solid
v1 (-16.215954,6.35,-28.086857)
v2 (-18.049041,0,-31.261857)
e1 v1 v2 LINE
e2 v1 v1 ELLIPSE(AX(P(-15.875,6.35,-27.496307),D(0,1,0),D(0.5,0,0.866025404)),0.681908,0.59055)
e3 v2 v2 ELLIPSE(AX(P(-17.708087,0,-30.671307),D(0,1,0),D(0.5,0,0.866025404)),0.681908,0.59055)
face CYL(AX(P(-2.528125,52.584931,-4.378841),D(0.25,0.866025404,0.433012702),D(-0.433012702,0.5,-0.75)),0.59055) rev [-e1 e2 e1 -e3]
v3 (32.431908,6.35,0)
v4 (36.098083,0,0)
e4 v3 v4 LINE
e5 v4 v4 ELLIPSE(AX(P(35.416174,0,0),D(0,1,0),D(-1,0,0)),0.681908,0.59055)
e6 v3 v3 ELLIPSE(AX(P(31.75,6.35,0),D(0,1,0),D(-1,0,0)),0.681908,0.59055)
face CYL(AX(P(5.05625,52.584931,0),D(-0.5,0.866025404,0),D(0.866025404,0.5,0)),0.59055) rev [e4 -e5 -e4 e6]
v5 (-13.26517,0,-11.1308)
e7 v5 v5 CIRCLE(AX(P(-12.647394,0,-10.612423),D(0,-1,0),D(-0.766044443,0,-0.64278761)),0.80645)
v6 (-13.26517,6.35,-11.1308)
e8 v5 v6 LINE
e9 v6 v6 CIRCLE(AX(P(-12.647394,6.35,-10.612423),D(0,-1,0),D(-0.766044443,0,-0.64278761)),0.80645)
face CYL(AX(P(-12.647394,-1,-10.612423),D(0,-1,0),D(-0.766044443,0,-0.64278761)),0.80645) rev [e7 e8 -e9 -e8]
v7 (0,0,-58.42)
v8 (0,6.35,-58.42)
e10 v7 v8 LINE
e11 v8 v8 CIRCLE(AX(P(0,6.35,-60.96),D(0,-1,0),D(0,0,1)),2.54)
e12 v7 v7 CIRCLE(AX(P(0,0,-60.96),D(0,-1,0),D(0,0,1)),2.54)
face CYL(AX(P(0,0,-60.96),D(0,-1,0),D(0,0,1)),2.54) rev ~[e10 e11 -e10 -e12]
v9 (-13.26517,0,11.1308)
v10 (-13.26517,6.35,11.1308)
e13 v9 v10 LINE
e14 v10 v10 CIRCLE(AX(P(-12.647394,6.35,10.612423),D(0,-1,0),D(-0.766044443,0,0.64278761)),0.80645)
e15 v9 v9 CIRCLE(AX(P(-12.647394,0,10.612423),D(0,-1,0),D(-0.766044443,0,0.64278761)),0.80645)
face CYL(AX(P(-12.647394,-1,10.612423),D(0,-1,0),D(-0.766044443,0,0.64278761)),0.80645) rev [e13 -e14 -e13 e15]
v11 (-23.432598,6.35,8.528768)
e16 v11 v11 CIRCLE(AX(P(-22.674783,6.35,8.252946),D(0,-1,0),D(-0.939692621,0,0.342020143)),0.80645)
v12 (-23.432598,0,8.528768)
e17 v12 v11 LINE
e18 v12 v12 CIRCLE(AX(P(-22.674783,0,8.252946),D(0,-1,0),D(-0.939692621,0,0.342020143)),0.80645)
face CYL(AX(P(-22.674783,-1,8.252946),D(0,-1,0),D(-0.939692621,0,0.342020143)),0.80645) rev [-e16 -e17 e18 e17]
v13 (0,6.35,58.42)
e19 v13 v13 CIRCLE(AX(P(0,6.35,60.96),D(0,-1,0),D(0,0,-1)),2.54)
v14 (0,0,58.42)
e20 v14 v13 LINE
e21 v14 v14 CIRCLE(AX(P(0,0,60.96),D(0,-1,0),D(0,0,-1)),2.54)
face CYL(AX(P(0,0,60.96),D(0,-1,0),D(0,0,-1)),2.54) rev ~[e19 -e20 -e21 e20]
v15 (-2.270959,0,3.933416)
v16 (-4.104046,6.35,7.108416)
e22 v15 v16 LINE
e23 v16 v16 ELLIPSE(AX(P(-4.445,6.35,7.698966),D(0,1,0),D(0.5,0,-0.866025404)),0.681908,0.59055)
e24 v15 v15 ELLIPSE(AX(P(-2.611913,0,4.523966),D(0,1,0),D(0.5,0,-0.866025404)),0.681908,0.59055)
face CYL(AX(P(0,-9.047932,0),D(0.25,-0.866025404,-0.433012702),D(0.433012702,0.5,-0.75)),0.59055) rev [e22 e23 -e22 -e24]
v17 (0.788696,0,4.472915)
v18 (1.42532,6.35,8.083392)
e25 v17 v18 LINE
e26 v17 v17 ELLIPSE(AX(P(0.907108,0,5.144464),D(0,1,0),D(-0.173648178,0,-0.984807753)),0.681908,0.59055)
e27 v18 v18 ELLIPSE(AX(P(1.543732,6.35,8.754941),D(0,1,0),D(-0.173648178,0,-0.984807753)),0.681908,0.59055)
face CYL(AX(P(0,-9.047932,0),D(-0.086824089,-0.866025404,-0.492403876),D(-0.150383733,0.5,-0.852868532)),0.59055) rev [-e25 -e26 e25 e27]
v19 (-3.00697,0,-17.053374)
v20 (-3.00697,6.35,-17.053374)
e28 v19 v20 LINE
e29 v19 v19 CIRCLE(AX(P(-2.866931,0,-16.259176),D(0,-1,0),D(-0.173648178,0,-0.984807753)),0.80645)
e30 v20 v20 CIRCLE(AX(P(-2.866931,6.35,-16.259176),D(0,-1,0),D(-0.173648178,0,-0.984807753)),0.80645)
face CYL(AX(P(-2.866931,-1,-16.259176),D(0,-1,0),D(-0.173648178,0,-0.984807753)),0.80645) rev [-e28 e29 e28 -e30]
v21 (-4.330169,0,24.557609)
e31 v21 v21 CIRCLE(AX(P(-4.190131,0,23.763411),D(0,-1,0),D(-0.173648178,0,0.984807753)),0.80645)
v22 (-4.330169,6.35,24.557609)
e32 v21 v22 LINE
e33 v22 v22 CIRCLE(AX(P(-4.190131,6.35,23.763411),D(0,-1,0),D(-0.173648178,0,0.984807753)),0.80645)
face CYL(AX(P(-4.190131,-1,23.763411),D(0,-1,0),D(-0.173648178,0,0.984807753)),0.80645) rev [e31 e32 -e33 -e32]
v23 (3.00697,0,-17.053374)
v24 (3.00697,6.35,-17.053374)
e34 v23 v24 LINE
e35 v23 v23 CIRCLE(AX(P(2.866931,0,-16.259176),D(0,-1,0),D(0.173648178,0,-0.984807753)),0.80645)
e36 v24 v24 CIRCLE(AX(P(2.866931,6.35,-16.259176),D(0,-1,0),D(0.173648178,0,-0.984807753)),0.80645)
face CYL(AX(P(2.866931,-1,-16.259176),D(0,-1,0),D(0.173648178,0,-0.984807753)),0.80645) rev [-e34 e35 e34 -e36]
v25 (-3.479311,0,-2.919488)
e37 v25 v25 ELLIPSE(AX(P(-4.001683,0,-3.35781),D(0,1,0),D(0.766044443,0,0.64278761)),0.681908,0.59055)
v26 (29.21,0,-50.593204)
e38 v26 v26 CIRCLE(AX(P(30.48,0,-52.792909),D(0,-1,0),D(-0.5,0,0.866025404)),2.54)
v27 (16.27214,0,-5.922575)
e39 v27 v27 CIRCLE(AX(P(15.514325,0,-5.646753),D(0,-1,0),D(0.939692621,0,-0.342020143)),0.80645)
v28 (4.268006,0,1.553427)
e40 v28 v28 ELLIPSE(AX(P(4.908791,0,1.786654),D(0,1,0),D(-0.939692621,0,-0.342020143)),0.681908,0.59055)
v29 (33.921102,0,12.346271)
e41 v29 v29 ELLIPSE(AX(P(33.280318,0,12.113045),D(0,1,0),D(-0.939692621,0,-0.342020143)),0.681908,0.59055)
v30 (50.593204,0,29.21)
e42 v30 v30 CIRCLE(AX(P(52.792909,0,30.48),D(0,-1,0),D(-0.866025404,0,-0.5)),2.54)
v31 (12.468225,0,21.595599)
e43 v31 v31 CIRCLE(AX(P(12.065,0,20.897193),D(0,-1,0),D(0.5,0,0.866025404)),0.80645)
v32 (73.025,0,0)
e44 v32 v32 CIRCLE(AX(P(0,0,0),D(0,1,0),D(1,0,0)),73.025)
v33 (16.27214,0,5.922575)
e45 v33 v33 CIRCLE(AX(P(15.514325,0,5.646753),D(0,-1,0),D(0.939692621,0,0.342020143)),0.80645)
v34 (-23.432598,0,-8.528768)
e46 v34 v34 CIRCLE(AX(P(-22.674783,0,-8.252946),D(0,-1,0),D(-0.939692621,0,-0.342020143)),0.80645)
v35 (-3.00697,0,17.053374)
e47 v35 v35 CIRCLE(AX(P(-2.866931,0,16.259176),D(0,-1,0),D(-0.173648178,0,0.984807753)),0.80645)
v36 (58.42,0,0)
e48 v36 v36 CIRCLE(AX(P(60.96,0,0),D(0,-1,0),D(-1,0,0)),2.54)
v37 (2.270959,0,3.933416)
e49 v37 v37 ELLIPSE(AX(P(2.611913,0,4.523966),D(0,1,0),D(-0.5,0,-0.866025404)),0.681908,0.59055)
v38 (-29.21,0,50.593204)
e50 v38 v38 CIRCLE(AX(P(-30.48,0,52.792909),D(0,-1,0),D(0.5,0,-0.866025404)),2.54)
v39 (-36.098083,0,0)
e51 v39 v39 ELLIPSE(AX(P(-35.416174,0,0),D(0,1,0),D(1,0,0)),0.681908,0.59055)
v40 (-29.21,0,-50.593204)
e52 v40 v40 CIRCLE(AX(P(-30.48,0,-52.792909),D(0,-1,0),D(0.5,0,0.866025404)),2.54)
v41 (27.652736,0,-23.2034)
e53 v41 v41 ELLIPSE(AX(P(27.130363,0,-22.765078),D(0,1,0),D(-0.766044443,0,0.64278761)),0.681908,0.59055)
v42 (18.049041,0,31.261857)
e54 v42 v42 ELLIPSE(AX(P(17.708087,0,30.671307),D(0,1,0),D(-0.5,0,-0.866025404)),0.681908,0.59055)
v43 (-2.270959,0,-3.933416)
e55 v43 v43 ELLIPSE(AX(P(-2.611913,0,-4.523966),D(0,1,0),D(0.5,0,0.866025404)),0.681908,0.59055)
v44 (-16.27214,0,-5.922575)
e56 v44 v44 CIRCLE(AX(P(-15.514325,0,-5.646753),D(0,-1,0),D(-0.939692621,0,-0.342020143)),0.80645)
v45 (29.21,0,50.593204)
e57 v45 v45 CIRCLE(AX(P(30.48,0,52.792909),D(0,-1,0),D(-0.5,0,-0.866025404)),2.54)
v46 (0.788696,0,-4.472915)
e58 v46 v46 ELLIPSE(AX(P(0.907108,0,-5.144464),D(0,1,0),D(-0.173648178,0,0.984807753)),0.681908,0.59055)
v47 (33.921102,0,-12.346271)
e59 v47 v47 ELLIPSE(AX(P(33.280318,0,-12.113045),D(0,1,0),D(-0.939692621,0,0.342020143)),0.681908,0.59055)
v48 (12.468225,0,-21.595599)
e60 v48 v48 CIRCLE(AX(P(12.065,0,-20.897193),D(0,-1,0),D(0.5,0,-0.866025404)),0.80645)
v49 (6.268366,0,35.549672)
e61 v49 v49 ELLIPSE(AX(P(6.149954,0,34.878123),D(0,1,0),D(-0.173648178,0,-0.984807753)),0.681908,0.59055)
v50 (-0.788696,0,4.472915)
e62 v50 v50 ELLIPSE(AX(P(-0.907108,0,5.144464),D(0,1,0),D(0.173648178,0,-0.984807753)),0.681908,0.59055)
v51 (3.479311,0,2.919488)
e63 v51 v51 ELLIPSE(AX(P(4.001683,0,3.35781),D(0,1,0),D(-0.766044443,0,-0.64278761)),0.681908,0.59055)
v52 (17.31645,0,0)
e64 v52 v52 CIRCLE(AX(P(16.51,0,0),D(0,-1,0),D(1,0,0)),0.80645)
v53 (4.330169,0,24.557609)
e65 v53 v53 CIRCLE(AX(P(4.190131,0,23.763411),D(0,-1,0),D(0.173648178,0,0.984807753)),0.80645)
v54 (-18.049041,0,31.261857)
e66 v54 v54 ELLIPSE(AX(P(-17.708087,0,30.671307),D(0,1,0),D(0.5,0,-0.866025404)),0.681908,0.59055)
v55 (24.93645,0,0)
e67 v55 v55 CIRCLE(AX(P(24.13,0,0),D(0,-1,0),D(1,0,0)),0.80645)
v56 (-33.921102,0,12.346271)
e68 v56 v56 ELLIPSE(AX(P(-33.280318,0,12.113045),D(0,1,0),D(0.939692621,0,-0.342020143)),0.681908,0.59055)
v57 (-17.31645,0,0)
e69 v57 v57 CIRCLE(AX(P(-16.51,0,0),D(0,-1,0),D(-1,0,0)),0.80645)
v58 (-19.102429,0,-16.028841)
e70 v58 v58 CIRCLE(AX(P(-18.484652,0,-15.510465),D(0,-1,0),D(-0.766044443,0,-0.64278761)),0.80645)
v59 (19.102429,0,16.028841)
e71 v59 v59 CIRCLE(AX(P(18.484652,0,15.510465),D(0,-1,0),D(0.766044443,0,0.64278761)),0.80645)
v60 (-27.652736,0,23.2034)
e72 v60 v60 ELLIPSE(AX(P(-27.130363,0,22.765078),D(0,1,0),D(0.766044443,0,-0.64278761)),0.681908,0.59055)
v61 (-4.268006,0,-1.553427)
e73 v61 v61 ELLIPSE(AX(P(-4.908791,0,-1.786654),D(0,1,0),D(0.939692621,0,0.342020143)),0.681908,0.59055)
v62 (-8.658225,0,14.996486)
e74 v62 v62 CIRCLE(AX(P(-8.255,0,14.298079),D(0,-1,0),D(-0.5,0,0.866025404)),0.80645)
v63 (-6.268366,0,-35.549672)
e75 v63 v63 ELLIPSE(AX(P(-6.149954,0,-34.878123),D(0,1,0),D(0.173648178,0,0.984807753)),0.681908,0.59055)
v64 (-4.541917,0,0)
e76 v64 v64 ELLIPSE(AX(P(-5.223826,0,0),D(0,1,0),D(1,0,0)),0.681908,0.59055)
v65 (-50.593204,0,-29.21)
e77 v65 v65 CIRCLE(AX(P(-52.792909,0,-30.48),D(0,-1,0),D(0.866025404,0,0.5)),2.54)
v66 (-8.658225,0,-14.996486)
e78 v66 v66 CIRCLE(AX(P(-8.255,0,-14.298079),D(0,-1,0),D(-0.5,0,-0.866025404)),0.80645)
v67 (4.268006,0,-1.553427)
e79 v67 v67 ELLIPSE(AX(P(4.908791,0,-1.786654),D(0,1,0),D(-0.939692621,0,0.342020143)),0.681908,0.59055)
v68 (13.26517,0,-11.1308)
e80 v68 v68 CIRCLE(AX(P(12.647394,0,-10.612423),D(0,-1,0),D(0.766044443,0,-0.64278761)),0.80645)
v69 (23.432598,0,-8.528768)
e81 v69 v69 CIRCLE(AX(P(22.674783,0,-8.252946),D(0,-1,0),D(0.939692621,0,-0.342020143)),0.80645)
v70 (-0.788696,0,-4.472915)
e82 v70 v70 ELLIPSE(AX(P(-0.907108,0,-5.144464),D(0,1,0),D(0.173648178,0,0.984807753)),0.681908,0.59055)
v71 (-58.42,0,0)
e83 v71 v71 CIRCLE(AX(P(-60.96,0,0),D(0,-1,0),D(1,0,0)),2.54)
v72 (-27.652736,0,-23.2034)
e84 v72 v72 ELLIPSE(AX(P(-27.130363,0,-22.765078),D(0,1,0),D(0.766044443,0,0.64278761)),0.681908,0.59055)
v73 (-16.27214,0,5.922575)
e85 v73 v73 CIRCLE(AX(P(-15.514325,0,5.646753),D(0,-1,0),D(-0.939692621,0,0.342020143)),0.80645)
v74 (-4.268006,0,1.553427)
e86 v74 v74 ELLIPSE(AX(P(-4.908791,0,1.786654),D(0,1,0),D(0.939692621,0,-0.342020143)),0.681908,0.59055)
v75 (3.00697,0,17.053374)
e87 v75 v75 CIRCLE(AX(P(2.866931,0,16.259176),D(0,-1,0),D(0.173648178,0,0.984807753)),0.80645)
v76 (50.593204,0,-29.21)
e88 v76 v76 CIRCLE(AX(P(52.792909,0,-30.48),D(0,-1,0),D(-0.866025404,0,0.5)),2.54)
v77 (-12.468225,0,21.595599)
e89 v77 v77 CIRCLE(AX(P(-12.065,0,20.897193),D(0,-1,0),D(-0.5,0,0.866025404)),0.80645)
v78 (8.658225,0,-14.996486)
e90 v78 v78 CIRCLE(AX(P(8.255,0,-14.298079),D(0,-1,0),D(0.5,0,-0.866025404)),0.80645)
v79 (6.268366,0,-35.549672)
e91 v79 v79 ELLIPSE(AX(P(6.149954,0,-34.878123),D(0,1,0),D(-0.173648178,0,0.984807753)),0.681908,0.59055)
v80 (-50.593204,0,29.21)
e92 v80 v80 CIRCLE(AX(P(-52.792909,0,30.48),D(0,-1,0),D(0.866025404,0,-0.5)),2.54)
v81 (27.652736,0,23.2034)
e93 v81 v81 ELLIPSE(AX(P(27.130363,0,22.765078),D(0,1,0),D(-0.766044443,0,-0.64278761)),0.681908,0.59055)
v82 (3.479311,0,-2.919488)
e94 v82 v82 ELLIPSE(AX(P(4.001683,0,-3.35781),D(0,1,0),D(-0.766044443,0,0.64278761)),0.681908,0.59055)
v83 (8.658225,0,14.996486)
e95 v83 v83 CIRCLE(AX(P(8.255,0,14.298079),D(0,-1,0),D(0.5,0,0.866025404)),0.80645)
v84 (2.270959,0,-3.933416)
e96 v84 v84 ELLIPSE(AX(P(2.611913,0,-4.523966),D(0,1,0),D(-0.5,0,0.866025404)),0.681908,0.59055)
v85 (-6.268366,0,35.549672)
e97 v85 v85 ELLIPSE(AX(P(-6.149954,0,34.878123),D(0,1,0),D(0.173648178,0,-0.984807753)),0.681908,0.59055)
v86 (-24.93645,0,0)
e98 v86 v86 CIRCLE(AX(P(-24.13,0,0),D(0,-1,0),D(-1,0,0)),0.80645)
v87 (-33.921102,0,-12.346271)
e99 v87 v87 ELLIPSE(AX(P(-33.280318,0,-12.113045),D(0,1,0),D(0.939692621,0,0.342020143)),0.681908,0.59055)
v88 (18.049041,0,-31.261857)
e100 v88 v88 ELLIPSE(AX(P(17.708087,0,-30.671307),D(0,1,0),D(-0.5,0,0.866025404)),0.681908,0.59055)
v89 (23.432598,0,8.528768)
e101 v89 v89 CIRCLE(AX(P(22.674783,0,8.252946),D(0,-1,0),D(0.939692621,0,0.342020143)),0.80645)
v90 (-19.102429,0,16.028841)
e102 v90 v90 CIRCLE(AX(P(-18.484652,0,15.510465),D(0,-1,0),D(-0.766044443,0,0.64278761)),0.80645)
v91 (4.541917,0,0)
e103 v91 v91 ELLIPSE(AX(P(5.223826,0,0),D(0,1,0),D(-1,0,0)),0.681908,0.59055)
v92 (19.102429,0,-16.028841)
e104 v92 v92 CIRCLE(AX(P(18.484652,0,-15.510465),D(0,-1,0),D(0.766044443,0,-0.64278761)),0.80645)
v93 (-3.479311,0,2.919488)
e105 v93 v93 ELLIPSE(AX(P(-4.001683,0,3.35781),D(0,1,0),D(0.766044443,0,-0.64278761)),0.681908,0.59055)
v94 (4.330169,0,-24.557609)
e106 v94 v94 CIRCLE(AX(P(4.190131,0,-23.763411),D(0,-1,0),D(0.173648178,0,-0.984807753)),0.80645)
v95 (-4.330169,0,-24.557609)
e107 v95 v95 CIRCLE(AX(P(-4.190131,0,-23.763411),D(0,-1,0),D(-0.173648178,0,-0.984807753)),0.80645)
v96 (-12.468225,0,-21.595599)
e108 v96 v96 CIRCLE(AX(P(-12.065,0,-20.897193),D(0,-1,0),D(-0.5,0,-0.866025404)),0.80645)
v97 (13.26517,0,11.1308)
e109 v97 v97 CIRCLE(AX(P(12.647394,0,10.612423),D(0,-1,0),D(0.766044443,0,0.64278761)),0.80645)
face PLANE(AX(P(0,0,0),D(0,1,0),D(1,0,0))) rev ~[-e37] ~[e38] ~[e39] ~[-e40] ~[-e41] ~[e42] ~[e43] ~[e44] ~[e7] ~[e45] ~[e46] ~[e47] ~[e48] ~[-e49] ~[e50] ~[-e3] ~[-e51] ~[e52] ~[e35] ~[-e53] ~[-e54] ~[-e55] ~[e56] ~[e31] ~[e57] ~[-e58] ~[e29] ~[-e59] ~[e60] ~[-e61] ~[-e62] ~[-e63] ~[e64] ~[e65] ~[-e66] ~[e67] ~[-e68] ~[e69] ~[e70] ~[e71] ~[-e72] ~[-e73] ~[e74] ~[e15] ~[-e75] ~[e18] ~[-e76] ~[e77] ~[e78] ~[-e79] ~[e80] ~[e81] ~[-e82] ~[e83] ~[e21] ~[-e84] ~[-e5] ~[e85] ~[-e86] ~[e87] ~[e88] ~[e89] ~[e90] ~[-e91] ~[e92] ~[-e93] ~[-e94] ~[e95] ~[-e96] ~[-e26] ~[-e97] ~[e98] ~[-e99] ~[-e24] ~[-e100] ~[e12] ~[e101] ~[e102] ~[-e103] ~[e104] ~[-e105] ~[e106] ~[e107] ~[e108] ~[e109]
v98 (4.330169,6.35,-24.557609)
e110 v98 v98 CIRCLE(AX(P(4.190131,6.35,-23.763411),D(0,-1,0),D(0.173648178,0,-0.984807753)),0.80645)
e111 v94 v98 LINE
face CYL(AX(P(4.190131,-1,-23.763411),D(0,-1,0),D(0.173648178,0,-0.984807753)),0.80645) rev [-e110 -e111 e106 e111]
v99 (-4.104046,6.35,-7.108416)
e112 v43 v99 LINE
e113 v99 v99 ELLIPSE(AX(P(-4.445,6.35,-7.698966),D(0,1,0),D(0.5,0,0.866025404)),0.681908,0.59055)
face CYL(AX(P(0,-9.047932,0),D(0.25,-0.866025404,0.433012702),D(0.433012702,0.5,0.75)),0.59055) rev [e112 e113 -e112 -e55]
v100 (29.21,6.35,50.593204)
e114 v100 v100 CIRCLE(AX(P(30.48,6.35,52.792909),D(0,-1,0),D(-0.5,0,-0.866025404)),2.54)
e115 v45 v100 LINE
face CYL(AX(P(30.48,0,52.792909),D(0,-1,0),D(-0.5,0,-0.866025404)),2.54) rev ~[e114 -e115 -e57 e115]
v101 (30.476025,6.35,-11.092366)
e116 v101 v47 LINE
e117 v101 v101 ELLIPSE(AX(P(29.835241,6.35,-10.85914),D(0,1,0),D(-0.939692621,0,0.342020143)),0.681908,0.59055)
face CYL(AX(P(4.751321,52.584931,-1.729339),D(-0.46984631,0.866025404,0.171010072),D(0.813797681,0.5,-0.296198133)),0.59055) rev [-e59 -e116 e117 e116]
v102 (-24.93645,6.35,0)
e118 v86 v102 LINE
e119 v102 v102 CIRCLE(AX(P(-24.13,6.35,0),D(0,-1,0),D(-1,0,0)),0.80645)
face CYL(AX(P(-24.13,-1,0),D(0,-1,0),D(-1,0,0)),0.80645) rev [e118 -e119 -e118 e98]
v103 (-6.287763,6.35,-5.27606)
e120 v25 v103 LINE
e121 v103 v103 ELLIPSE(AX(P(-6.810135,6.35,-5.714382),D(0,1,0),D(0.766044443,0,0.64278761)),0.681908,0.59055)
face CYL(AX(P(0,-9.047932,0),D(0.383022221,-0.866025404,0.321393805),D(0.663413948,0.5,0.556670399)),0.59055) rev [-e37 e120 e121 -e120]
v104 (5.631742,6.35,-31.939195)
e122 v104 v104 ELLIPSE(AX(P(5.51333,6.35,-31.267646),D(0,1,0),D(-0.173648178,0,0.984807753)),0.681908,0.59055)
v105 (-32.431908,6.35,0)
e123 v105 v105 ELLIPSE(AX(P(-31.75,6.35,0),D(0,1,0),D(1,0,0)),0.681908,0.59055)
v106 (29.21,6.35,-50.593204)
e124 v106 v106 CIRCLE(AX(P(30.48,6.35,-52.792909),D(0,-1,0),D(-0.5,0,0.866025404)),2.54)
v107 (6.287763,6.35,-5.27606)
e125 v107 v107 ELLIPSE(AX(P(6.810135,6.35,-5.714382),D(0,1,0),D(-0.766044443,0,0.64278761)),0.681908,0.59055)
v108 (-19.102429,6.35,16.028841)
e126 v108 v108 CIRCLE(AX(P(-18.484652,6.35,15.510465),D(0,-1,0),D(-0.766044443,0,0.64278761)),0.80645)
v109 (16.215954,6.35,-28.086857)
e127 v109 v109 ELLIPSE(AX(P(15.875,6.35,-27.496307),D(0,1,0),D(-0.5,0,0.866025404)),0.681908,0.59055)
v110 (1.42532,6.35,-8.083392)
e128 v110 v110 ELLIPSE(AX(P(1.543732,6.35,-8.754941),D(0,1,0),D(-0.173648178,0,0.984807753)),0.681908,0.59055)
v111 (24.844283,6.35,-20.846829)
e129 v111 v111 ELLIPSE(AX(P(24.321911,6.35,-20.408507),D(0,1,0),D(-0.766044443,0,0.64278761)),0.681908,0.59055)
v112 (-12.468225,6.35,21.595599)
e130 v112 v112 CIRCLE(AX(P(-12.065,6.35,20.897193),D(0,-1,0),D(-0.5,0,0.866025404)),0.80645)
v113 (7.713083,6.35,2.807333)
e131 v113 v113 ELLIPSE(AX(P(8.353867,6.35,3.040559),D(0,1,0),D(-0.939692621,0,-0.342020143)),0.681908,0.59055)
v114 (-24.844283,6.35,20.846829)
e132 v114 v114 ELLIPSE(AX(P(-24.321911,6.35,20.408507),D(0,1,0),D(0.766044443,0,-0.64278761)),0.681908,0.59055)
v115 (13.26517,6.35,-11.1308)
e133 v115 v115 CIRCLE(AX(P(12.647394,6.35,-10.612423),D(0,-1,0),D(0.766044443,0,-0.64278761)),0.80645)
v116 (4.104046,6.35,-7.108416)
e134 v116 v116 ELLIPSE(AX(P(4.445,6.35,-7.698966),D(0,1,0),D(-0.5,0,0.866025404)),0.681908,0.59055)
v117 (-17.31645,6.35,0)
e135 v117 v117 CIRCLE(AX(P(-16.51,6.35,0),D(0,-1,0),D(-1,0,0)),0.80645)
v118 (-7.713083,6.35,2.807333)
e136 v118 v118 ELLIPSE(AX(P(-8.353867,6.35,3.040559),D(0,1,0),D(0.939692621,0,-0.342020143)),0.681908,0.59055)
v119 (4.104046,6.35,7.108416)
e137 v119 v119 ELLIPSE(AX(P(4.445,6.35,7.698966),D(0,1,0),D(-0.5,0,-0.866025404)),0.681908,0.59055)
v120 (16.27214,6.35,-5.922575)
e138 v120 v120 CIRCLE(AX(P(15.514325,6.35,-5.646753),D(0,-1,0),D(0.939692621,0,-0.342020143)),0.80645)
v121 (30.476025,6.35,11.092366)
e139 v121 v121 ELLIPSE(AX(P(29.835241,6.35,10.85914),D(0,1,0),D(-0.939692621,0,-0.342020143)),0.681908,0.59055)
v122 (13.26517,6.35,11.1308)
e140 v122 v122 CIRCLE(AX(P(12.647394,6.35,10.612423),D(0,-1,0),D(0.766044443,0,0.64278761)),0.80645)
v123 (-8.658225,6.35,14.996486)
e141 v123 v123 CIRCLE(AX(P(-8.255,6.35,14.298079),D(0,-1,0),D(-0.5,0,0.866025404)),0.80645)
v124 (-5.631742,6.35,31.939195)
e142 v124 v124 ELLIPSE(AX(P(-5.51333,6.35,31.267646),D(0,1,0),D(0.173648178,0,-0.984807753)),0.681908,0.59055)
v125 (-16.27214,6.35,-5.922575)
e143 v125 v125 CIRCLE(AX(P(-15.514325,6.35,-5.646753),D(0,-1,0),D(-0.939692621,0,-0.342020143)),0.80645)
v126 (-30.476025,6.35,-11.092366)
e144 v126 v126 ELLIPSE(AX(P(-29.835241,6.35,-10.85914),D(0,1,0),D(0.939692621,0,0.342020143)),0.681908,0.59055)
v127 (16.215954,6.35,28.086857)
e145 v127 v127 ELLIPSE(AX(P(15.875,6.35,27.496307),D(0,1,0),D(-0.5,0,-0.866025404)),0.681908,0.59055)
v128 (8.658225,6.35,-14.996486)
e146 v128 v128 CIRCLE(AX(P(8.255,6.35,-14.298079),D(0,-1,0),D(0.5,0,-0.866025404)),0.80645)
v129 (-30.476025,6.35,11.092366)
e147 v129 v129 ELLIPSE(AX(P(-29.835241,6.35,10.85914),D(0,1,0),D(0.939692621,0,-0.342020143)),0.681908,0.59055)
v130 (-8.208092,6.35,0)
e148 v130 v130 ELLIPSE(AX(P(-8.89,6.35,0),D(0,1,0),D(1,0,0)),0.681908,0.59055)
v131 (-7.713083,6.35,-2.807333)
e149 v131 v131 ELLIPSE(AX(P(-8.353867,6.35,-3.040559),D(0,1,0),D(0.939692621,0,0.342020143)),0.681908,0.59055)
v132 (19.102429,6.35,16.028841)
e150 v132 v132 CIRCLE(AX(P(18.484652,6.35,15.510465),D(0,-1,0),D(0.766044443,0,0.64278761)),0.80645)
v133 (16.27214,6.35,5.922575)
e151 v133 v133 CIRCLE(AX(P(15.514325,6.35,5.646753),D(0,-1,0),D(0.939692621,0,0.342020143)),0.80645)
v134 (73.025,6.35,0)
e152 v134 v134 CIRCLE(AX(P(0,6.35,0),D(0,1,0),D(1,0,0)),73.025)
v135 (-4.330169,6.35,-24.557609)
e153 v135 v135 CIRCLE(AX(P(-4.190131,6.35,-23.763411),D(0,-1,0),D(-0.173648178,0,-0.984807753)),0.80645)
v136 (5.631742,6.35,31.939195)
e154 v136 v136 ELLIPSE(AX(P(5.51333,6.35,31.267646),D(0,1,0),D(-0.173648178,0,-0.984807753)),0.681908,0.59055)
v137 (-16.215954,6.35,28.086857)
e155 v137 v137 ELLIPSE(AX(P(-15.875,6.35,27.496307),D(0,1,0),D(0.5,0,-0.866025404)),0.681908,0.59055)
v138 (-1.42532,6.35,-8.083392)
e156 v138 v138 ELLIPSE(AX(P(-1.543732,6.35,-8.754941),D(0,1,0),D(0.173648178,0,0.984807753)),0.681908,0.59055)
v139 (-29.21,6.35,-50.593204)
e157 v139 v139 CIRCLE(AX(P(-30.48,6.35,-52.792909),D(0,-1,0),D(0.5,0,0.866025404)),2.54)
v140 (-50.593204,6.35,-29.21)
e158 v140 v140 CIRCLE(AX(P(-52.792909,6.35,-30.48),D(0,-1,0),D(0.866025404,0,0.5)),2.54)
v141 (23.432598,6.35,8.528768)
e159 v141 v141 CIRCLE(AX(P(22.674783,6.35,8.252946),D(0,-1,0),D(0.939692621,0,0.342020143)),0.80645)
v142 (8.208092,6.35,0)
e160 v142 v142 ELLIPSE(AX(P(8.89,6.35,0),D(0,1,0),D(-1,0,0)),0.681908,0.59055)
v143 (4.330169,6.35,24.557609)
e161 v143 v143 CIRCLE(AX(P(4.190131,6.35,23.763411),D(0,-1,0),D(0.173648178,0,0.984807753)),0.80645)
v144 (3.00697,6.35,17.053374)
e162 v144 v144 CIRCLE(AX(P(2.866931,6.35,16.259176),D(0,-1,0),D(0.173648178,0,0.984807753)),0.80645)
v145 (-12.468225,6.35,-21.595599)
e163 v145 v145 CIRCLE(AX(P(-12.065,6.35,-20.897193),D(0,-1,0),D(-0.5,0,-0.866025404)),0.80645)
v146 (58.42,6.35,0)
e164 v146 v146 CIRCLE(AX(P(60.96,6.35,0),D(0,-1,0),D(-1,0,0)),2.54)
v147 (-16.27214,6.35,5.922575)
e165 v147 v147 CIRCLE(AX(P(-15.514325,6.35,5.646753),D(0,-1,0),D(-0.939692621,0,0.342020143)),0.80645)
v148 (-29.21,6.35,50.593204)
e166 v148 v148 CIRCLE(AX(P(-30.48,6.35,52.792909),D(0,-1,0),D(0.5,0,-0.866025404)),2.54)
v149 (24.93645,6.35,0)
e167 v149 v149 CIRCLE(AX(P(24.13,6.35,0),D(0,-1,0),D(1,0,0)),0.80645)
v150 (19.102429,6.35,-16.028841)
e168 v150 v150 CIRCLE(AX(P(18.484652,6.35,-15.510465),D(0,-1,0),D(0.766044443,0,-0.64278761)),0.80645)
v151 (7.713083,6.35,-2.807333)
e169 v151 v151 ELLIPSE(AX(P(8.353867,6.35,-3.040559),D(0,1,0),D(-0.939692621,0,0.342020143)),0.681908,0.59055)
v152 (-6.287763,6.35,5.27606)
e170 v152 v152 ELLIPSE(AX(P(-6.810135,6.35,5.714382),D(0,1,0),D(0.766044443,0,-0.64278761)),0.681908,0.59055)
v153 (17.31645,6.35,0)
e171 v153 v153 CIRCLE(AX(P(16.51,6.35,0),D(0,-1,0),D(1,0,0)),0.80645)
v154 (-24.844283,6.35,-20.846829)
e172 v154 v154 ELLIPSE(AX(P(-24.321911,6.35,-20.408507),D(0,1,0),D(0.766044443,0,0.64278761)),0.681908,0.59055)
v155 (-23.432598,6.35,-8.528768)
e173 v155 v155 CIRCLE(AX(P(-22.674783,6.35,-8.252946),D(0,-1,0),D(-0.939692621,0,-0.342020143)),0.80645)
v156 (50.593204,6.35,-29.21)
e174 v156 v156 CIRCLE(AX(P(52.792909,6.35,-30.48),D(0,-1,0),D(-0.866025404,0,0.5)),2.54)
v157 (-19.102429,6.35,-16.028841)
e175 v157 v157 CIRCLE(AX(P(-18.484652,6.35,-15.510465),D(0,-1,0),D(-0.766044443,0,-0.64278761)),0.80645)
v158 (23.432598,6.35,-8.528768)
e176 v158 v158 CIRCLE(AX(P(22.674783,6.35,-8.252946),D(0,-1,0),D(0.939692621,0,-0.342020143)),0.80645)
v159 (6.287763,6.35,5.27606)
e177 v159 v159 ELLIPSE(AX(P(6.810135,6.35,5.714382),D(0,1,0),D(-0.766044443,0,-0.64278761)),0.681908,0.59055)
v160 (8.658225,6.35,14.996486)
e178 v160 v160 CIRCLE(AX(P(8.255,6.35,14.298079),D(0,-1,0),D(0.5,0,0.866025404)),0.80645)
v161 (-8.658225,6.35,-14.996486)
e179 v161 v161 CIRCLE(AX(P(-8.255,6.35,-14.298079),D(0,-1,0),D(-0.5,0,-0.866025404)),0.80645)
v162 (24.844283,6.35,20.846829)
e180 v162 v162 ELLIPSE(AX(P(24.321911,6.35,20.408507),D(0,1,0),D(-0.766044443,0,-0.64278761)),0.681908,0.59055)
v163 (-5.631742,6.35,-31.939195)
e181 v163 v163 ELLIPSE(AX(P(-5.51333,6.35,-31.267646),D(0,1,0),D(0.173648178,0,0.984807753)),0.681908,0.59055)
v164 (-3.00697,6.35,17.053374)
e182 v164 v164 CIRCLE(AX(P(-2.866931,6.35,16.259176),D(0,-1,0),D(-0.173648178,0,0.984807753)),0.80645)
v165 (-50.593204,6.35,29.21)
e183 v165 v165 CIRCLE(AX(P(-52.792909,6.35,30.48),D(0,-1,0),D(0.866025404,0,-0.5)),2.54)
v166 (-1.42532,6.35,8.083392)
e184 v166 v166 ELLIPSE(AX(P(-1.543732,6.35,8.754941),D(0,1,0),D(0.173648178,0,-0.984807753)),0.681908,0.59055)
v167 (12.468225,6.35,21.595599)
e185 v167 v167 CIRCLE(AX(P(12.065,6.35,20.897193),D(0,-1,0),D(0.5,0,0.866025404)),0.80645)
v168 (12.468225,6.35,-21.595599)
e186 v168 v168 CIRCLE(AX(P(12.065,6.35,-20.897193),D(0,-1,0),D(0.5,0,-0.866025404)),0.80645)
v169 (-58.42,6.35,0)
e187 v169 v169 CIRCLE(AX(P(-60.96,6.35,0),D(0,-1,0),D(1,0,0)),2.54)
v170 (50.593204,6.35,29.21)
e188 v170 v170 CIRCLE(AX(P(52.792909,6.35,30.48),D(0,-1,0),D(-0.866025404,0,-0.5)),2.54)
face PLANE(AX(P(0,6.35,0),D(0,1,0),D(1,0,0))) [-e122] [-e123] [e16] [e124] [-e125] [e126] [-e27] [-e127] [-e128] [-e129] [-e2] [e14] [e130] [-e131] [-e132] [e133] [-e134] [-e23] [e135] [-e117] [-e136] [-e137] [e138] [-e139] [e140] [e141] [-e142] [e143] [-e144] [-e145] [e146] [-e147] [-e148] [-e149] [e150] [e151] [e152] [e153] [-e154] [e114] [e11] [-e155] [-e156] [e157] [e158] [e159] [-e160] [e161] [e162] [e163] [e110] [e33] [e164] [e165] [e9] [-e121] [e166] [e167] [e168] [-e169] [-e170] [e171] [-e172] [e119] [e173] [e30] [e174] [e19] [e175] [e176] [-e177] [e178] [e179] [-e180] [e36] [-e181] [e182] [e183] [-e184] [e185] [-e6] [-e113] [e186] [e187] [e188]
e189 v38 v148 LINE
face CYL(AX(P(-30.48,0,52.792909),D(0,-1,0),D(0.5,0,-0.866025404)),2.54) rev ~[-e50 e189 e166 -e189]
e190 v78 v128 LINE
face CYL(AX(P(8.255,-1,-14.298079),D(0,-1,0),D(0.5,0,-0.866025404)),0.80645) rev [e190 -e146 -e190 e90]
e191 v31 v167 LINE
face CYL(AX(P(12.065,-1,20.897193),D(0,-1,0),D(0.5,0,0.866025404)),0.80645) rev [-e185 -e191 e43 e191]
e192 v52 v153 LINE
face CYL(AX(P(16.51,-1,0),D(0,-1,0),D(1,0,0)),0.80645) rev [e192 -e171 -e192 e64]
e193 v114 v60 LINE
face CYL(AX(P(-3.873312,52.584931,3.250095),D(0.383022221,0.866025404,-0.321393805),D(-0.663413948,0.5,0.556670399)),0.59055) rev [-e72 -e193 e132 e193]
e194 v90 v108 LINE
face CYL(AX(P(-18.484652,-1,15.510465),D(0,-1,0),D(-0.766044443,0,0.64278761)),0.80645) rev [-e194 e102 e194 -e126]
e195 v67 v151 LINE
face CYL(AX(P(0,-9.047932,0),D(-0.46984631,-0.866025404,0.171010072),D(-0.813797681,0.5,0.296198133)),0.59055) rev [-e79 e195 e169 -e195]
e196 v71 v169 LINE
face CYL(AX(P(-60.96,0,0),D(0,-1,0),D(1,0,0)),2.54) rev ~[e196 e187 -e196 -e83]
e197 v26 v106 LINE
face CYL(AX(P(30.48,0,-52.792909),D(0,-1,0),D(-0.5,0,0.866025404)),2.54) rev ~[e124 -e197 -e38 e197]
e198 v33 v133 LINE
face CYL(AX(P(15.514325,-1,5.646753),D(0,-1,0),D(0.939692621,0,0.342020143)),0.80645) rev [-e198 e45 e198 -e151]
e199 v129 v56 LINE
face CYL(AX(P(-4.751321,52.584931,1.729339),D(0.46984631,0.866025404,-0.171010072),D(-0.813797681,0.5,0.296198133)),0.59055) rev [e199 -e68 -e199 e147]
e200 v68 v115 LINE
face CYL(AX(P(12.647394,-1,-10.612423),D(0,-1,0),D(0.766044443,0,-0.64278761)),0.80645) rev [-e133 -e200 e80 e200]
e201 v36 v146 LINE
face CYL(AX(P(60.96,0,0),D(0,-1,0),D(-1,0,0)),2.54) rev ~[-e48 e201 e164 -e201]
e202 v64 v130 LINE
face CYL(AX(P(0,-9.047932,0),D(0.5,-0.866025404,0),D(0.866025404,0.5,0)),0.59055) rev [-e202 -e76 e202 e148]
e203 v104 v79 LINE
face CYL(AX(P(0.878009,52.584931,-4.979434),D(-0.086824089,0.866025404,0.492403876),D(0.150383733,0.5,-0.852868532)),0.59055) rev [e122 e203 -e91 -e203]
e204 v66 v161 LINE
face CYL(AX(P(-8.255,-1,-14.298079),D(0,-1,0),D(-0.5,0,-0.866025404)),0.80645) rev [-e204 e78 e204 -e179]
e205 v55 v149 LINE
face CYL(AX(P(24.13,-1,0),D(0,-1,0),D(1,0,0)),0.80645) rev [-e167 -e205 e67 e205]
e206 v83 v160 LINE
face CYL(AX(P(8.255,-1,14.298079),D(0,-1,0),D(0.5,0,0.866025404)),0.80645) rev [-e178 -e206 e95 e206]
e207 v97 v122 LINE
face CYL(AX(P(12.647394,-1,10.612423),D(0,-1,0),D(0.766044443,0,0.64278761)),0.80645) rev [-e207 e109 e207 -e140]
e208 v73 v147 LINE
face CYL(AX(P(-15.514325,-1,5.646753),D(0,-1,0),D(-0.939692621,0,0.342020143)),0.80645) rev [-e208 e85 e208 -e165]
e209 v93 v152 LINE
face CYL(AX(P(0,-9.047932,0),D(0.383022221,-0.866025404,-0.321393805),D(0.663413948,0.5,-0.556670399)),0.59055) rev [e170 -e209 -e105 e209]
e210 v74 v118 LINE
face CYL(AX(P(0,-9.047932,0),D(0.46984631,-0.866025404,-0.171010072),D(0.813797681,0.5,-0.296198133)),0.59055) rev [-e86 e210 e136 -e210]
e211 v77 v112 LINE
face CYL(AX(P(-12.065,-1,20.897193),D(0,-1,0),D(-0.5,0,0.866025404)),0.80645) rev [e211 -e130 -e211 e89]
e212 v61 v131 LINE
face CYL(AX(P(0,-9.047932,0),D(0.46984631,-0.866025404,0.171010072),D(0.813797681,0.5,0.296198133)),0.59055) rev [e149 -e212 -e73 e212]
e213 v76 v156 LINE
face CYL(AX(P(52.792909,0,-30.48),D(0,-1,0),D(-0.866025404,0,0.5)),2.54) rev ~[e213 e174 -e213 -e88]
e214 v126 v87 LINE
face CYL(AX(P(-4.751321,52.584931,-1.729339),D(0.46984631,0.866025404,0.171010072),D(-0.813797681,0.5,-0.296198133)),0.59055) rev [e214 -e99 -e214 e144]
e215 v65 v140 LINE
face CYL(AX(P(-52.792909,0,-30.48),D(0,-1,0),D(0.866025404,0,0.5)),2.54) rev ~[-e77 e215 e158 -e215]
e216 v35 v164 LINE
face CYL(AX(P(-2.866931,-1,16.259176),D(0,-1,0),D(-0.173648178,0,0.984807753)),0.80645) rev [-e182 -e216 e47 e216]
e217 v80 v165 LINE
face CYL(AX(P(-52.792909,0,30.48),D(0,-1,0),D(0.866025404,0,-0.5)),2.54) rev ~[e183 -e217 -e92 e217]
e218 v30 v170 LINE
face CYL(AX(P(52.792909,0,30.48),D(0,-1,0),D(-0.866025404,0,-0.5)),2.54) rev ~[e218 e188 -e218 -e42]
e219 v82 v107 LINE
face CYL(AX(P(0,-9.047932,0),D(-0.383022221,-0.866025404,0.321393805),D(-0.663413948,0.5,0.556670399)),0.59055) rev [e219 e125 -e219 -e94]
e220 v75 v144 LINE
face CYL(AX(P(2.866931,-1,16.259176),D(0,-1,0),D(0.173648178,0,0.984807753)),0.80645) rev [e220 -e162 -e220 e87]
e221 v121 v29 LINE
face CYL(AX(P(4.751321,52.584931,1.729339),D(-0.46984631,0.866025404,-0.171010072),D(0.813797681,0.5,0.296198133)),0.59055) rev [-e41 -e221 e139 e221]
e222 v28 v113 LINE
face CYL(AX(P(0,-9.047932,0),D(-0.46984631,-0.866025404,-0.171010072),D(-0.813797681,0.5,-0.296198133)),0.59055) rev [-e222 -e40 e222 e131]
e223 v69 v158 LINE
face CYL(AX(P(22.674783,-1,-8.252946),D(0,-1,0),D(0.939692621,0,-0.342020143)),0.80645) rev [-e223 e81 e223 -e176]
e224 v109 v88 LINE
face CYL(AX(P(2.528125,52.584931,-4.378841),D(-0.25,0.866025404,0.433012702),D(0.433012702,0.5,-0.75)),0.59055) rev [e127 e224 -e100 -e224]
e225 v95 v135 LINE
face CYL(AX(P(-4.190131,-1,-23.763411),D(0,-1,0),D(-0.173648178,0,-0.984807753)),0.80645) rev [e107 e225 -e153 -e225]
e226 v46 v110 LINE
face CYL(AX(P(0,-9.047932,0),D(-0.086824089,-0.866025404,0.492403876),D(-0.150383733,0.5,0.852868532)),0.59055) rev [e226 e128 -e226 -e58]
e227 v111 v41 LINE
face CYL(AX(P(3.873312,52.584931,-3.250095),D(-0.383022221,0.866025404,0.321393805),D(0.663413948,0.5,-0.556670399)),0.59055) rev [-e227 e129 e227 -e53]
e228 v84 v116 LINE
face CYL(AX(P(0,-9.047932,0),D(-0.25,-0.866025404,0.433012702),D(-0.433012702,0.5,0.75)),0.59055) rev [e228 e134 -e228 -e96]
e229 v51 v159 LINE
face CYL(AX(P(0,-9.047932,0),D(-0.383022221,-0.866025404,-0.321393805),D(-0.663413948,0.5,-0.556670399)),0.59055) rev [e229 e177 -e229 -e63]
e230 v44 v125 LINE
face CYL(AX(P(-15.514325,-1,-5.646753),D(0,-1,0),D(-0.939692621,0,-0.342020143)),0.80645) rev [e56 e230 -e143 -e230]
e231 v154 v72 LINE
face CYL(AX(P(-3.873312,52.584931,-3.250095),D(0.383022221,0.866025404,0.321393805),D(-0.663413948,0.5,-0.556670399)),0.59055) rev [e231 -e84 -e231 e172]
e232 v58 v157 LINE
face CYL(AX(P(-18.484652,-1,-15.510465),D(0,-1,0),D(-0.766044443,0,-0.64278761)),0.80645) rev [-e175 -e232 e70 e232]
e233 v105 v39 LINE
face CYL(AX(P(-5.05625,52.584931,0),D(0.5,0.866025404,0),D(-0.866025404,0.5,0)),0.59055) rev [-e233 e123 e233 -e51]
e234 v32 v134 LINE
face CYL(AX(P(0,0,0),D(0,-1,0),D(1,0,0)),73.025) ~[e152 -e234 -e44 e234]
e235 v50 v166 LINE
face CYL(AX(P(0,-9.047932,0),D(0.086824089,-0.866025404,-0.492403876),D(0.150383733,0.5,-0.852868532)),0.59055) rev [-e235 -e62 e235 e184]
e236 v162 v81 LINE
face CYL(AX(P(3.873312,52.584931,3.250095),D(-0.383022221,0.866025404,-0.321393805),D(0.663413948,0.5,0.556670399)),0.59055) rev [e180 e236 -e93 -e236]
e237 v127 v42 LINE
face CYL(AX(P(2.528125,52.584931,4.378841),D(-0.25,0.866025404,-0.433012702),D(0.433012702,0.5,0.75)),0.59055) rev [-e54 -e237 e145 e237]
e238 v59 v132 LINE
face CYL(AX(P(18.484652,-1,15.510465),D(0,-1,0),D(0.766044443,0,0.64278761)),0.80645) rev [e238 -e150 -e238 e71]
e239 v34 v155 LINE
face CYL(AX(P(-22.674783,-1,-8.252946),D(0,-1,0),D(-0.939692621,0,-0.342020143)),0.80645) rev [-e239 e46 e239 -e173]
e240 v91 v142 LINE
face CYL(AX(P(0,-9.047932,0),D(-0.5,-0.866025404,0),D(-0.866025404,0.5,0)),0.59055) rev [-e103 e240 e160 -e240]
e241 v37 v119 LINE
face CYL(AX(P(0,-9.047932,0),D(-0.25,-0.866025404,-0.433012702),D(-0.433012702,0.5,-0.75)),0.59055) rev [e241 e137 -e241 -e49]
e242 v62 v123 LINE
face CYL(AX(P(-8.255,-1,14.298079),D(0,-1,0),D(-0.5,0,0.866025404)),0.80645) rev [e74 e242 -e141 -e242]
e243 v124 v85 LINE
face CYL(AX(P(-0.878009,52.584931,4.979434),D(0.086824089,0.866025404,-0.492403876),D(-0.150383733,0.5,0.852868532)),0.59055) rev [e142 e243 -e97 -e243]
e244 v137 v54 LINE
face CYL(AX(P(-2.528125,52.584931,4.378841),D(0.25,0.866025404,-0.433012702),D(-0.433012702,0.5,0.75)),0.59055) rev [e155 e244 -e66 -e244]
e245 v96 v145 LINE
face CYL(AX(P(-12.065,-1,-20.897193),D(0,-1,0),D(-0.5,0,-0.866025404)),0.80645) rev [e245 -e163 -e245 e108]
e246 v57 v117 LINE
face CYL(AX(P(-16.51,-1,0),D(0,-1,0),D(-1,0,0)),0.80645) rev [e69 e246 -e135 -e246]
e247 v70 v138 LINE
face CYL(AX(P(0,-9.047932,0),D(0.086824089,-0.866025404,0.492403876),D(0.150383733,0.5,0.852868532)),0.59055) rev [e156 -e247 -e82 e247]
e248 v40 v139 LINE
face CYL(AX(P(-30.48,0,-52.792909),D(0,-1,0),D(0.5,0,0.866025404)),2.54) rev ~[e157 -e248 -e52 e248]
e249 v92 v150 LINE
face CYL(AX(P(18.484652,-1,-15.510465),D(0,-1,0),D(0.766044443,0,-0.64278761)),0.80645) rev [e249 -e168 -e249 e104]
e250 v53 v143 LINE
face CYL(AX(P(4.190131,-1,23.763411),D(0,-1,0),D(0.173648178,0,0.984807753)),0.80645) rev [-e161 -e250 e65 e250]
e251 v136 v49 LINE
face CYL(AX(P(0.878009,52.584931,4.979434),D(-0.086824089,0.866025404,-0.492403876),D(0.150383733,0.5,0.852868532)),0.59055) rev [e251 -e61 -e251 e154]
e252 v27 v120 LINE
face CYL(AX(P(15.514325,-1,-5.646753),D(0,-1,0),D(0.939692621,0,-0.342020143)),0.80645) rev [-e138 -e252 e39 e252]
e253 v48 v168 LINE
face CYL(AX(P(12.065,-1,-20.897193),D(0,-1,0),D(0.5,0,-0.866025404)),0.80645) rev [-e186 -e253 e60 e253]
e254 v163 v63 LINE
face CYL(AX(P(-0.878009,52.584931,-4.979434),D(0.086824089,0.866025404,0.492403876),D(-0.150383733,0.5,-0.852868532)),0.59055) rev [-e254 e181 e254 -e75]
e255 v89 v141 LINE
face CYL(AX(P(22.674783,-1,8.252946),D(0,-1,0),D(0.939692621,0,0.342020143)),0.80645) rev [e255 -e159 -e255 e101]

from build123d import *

# Parameters (mm, degrees)
SKETCH1_R           = 73.025
BOSS_EXTRUDE1_DEPTH = 6.35
SKETCH4_R           = 0.59055
CUT_EXTRUDE1_DEPTH  = 50.8475
CUT_EXTRUDE2_START  = -53.3875
SKETCH6_R           = 0.59055
CUT_EXTRUDE2_DEPTH  = 80.524261314
LOX_START           = -7.35
SKETCH7_R           = 0.80645
LOX_HOLES_DEPTH     = 8.35
CIRPATTERN1_COUNT   = 18
SKETCH8_R           = 2.54
CUT_EXTRUDE4_DEPTH  = 7.35
CIRPATTERN2_COUNT   = 12


with BuildPart() as part:
    # Sketch1 → Boss-Extrude1 (new body)
    with BuildSketch(Plane(origin=(0, 0, 0), x_dir=(1, 0, 0), z_dir=(0, 1, 0))):
        Circle(SKETCH1_R)
    extrude(amount=BOSS_EXTRUDE1_DEPTH)

    # Sketch4 → Cut-Extrude1 (cut, through all)
    with BuildSketch(Plane(origin=(-3.917869343, -6.785948759, 0), x_dir=(-0.866025404, 0.5, 0), z_dir=(0.5, 0.866025404, 0))):
        with Locations((-4.52396584, 0)):
            Circle(SKETCH4_R)
    cut_extrude1 = extrude(amount=CUT_EXTRUDE1_DEPTH, mode=Mode.SUBTRACT)

    # Sketch6 → Cut-Extrude2 (cut)
    with BuildSketch(Plane(origin=(5.187869343, -8.985653285, 0), x_dir=(0.866025404, 0.5, 0), z_dir=(0.5, -0.866025404, 0)).offset(CUT_EXTRUDE2_START)):
        with Locations((30.67130657, 0)):
            Circle(SKETCH6_R)
    cut_extrude2 = extrude(amount=CUT_EXTRUDE2_DEPTH, mode=Mode.SUBTRACT)

    # Sketch7 → LOx Holes (cut)
    with BuildSketch(Plane(origin=(0, 6.35, 0), x_dir=(1, 0, 0), z_dir=(0, 1, 0)).offset(LOX_START)):
        with Locations((24.13, 0)):
            Circle(SKETCH7_R)
        with Locations((16.51, 0)):
            Circle(SKETCH7_R)
    lox_holes = extrude(amount=LOX_HOLES_DEPTH, mode=Mode.SUBTRACT)

    # CirPattern1: Cut-Extrude1, Cut-Extrude2, LOx Holes ×18 about axis
    cirpattern1_axis = Axis((0, 0, 0), (0, 1, 0))
    for i in range(1, CIRPATTERN1_COUNT):
        add(cut_extrude1.rotate(cirpattern1_axis, i * 360 / CIRPATTERN1_COUNT), mode=Mode.SUBTRACT)
        add(cut_extrude2.rotate(cirpattern1_axis, i * 360 / CIRPATTERN1_COUNT), mode=Mode.SUBTRACT)
        add(lox_holes.rotate(cirpattern1_axis, i * 360 / CIRPATTERN1_COUNT), mode=Mode.SUBTRACT)

    # Sketch8 → Cut-Extrude4 (cut, through all)
    with BuildSketch(Plane.XZ):
        with Locations((-60.96, 0)):
            Circle(SKETCH8_R)
    cut_extrude4 = extrude(amount=-CUT_EXTRUDE4_DEPTH, mode=Mode.SUBTRACT)

    # CirPattern2: Cut-Extrude4 ×12 about axis
    cirpattern2_axis = Axis((0, 0, 0), (0, 1, 0))
    for i in range(1, CIRPATTERN2_COUNT):
        add(cut_extrude4.rotate(cirpattern2_axis, i * 360 / CIRPATTERN2_COUNT), mode=Mode.SUBTRACT)


solid = part.part
